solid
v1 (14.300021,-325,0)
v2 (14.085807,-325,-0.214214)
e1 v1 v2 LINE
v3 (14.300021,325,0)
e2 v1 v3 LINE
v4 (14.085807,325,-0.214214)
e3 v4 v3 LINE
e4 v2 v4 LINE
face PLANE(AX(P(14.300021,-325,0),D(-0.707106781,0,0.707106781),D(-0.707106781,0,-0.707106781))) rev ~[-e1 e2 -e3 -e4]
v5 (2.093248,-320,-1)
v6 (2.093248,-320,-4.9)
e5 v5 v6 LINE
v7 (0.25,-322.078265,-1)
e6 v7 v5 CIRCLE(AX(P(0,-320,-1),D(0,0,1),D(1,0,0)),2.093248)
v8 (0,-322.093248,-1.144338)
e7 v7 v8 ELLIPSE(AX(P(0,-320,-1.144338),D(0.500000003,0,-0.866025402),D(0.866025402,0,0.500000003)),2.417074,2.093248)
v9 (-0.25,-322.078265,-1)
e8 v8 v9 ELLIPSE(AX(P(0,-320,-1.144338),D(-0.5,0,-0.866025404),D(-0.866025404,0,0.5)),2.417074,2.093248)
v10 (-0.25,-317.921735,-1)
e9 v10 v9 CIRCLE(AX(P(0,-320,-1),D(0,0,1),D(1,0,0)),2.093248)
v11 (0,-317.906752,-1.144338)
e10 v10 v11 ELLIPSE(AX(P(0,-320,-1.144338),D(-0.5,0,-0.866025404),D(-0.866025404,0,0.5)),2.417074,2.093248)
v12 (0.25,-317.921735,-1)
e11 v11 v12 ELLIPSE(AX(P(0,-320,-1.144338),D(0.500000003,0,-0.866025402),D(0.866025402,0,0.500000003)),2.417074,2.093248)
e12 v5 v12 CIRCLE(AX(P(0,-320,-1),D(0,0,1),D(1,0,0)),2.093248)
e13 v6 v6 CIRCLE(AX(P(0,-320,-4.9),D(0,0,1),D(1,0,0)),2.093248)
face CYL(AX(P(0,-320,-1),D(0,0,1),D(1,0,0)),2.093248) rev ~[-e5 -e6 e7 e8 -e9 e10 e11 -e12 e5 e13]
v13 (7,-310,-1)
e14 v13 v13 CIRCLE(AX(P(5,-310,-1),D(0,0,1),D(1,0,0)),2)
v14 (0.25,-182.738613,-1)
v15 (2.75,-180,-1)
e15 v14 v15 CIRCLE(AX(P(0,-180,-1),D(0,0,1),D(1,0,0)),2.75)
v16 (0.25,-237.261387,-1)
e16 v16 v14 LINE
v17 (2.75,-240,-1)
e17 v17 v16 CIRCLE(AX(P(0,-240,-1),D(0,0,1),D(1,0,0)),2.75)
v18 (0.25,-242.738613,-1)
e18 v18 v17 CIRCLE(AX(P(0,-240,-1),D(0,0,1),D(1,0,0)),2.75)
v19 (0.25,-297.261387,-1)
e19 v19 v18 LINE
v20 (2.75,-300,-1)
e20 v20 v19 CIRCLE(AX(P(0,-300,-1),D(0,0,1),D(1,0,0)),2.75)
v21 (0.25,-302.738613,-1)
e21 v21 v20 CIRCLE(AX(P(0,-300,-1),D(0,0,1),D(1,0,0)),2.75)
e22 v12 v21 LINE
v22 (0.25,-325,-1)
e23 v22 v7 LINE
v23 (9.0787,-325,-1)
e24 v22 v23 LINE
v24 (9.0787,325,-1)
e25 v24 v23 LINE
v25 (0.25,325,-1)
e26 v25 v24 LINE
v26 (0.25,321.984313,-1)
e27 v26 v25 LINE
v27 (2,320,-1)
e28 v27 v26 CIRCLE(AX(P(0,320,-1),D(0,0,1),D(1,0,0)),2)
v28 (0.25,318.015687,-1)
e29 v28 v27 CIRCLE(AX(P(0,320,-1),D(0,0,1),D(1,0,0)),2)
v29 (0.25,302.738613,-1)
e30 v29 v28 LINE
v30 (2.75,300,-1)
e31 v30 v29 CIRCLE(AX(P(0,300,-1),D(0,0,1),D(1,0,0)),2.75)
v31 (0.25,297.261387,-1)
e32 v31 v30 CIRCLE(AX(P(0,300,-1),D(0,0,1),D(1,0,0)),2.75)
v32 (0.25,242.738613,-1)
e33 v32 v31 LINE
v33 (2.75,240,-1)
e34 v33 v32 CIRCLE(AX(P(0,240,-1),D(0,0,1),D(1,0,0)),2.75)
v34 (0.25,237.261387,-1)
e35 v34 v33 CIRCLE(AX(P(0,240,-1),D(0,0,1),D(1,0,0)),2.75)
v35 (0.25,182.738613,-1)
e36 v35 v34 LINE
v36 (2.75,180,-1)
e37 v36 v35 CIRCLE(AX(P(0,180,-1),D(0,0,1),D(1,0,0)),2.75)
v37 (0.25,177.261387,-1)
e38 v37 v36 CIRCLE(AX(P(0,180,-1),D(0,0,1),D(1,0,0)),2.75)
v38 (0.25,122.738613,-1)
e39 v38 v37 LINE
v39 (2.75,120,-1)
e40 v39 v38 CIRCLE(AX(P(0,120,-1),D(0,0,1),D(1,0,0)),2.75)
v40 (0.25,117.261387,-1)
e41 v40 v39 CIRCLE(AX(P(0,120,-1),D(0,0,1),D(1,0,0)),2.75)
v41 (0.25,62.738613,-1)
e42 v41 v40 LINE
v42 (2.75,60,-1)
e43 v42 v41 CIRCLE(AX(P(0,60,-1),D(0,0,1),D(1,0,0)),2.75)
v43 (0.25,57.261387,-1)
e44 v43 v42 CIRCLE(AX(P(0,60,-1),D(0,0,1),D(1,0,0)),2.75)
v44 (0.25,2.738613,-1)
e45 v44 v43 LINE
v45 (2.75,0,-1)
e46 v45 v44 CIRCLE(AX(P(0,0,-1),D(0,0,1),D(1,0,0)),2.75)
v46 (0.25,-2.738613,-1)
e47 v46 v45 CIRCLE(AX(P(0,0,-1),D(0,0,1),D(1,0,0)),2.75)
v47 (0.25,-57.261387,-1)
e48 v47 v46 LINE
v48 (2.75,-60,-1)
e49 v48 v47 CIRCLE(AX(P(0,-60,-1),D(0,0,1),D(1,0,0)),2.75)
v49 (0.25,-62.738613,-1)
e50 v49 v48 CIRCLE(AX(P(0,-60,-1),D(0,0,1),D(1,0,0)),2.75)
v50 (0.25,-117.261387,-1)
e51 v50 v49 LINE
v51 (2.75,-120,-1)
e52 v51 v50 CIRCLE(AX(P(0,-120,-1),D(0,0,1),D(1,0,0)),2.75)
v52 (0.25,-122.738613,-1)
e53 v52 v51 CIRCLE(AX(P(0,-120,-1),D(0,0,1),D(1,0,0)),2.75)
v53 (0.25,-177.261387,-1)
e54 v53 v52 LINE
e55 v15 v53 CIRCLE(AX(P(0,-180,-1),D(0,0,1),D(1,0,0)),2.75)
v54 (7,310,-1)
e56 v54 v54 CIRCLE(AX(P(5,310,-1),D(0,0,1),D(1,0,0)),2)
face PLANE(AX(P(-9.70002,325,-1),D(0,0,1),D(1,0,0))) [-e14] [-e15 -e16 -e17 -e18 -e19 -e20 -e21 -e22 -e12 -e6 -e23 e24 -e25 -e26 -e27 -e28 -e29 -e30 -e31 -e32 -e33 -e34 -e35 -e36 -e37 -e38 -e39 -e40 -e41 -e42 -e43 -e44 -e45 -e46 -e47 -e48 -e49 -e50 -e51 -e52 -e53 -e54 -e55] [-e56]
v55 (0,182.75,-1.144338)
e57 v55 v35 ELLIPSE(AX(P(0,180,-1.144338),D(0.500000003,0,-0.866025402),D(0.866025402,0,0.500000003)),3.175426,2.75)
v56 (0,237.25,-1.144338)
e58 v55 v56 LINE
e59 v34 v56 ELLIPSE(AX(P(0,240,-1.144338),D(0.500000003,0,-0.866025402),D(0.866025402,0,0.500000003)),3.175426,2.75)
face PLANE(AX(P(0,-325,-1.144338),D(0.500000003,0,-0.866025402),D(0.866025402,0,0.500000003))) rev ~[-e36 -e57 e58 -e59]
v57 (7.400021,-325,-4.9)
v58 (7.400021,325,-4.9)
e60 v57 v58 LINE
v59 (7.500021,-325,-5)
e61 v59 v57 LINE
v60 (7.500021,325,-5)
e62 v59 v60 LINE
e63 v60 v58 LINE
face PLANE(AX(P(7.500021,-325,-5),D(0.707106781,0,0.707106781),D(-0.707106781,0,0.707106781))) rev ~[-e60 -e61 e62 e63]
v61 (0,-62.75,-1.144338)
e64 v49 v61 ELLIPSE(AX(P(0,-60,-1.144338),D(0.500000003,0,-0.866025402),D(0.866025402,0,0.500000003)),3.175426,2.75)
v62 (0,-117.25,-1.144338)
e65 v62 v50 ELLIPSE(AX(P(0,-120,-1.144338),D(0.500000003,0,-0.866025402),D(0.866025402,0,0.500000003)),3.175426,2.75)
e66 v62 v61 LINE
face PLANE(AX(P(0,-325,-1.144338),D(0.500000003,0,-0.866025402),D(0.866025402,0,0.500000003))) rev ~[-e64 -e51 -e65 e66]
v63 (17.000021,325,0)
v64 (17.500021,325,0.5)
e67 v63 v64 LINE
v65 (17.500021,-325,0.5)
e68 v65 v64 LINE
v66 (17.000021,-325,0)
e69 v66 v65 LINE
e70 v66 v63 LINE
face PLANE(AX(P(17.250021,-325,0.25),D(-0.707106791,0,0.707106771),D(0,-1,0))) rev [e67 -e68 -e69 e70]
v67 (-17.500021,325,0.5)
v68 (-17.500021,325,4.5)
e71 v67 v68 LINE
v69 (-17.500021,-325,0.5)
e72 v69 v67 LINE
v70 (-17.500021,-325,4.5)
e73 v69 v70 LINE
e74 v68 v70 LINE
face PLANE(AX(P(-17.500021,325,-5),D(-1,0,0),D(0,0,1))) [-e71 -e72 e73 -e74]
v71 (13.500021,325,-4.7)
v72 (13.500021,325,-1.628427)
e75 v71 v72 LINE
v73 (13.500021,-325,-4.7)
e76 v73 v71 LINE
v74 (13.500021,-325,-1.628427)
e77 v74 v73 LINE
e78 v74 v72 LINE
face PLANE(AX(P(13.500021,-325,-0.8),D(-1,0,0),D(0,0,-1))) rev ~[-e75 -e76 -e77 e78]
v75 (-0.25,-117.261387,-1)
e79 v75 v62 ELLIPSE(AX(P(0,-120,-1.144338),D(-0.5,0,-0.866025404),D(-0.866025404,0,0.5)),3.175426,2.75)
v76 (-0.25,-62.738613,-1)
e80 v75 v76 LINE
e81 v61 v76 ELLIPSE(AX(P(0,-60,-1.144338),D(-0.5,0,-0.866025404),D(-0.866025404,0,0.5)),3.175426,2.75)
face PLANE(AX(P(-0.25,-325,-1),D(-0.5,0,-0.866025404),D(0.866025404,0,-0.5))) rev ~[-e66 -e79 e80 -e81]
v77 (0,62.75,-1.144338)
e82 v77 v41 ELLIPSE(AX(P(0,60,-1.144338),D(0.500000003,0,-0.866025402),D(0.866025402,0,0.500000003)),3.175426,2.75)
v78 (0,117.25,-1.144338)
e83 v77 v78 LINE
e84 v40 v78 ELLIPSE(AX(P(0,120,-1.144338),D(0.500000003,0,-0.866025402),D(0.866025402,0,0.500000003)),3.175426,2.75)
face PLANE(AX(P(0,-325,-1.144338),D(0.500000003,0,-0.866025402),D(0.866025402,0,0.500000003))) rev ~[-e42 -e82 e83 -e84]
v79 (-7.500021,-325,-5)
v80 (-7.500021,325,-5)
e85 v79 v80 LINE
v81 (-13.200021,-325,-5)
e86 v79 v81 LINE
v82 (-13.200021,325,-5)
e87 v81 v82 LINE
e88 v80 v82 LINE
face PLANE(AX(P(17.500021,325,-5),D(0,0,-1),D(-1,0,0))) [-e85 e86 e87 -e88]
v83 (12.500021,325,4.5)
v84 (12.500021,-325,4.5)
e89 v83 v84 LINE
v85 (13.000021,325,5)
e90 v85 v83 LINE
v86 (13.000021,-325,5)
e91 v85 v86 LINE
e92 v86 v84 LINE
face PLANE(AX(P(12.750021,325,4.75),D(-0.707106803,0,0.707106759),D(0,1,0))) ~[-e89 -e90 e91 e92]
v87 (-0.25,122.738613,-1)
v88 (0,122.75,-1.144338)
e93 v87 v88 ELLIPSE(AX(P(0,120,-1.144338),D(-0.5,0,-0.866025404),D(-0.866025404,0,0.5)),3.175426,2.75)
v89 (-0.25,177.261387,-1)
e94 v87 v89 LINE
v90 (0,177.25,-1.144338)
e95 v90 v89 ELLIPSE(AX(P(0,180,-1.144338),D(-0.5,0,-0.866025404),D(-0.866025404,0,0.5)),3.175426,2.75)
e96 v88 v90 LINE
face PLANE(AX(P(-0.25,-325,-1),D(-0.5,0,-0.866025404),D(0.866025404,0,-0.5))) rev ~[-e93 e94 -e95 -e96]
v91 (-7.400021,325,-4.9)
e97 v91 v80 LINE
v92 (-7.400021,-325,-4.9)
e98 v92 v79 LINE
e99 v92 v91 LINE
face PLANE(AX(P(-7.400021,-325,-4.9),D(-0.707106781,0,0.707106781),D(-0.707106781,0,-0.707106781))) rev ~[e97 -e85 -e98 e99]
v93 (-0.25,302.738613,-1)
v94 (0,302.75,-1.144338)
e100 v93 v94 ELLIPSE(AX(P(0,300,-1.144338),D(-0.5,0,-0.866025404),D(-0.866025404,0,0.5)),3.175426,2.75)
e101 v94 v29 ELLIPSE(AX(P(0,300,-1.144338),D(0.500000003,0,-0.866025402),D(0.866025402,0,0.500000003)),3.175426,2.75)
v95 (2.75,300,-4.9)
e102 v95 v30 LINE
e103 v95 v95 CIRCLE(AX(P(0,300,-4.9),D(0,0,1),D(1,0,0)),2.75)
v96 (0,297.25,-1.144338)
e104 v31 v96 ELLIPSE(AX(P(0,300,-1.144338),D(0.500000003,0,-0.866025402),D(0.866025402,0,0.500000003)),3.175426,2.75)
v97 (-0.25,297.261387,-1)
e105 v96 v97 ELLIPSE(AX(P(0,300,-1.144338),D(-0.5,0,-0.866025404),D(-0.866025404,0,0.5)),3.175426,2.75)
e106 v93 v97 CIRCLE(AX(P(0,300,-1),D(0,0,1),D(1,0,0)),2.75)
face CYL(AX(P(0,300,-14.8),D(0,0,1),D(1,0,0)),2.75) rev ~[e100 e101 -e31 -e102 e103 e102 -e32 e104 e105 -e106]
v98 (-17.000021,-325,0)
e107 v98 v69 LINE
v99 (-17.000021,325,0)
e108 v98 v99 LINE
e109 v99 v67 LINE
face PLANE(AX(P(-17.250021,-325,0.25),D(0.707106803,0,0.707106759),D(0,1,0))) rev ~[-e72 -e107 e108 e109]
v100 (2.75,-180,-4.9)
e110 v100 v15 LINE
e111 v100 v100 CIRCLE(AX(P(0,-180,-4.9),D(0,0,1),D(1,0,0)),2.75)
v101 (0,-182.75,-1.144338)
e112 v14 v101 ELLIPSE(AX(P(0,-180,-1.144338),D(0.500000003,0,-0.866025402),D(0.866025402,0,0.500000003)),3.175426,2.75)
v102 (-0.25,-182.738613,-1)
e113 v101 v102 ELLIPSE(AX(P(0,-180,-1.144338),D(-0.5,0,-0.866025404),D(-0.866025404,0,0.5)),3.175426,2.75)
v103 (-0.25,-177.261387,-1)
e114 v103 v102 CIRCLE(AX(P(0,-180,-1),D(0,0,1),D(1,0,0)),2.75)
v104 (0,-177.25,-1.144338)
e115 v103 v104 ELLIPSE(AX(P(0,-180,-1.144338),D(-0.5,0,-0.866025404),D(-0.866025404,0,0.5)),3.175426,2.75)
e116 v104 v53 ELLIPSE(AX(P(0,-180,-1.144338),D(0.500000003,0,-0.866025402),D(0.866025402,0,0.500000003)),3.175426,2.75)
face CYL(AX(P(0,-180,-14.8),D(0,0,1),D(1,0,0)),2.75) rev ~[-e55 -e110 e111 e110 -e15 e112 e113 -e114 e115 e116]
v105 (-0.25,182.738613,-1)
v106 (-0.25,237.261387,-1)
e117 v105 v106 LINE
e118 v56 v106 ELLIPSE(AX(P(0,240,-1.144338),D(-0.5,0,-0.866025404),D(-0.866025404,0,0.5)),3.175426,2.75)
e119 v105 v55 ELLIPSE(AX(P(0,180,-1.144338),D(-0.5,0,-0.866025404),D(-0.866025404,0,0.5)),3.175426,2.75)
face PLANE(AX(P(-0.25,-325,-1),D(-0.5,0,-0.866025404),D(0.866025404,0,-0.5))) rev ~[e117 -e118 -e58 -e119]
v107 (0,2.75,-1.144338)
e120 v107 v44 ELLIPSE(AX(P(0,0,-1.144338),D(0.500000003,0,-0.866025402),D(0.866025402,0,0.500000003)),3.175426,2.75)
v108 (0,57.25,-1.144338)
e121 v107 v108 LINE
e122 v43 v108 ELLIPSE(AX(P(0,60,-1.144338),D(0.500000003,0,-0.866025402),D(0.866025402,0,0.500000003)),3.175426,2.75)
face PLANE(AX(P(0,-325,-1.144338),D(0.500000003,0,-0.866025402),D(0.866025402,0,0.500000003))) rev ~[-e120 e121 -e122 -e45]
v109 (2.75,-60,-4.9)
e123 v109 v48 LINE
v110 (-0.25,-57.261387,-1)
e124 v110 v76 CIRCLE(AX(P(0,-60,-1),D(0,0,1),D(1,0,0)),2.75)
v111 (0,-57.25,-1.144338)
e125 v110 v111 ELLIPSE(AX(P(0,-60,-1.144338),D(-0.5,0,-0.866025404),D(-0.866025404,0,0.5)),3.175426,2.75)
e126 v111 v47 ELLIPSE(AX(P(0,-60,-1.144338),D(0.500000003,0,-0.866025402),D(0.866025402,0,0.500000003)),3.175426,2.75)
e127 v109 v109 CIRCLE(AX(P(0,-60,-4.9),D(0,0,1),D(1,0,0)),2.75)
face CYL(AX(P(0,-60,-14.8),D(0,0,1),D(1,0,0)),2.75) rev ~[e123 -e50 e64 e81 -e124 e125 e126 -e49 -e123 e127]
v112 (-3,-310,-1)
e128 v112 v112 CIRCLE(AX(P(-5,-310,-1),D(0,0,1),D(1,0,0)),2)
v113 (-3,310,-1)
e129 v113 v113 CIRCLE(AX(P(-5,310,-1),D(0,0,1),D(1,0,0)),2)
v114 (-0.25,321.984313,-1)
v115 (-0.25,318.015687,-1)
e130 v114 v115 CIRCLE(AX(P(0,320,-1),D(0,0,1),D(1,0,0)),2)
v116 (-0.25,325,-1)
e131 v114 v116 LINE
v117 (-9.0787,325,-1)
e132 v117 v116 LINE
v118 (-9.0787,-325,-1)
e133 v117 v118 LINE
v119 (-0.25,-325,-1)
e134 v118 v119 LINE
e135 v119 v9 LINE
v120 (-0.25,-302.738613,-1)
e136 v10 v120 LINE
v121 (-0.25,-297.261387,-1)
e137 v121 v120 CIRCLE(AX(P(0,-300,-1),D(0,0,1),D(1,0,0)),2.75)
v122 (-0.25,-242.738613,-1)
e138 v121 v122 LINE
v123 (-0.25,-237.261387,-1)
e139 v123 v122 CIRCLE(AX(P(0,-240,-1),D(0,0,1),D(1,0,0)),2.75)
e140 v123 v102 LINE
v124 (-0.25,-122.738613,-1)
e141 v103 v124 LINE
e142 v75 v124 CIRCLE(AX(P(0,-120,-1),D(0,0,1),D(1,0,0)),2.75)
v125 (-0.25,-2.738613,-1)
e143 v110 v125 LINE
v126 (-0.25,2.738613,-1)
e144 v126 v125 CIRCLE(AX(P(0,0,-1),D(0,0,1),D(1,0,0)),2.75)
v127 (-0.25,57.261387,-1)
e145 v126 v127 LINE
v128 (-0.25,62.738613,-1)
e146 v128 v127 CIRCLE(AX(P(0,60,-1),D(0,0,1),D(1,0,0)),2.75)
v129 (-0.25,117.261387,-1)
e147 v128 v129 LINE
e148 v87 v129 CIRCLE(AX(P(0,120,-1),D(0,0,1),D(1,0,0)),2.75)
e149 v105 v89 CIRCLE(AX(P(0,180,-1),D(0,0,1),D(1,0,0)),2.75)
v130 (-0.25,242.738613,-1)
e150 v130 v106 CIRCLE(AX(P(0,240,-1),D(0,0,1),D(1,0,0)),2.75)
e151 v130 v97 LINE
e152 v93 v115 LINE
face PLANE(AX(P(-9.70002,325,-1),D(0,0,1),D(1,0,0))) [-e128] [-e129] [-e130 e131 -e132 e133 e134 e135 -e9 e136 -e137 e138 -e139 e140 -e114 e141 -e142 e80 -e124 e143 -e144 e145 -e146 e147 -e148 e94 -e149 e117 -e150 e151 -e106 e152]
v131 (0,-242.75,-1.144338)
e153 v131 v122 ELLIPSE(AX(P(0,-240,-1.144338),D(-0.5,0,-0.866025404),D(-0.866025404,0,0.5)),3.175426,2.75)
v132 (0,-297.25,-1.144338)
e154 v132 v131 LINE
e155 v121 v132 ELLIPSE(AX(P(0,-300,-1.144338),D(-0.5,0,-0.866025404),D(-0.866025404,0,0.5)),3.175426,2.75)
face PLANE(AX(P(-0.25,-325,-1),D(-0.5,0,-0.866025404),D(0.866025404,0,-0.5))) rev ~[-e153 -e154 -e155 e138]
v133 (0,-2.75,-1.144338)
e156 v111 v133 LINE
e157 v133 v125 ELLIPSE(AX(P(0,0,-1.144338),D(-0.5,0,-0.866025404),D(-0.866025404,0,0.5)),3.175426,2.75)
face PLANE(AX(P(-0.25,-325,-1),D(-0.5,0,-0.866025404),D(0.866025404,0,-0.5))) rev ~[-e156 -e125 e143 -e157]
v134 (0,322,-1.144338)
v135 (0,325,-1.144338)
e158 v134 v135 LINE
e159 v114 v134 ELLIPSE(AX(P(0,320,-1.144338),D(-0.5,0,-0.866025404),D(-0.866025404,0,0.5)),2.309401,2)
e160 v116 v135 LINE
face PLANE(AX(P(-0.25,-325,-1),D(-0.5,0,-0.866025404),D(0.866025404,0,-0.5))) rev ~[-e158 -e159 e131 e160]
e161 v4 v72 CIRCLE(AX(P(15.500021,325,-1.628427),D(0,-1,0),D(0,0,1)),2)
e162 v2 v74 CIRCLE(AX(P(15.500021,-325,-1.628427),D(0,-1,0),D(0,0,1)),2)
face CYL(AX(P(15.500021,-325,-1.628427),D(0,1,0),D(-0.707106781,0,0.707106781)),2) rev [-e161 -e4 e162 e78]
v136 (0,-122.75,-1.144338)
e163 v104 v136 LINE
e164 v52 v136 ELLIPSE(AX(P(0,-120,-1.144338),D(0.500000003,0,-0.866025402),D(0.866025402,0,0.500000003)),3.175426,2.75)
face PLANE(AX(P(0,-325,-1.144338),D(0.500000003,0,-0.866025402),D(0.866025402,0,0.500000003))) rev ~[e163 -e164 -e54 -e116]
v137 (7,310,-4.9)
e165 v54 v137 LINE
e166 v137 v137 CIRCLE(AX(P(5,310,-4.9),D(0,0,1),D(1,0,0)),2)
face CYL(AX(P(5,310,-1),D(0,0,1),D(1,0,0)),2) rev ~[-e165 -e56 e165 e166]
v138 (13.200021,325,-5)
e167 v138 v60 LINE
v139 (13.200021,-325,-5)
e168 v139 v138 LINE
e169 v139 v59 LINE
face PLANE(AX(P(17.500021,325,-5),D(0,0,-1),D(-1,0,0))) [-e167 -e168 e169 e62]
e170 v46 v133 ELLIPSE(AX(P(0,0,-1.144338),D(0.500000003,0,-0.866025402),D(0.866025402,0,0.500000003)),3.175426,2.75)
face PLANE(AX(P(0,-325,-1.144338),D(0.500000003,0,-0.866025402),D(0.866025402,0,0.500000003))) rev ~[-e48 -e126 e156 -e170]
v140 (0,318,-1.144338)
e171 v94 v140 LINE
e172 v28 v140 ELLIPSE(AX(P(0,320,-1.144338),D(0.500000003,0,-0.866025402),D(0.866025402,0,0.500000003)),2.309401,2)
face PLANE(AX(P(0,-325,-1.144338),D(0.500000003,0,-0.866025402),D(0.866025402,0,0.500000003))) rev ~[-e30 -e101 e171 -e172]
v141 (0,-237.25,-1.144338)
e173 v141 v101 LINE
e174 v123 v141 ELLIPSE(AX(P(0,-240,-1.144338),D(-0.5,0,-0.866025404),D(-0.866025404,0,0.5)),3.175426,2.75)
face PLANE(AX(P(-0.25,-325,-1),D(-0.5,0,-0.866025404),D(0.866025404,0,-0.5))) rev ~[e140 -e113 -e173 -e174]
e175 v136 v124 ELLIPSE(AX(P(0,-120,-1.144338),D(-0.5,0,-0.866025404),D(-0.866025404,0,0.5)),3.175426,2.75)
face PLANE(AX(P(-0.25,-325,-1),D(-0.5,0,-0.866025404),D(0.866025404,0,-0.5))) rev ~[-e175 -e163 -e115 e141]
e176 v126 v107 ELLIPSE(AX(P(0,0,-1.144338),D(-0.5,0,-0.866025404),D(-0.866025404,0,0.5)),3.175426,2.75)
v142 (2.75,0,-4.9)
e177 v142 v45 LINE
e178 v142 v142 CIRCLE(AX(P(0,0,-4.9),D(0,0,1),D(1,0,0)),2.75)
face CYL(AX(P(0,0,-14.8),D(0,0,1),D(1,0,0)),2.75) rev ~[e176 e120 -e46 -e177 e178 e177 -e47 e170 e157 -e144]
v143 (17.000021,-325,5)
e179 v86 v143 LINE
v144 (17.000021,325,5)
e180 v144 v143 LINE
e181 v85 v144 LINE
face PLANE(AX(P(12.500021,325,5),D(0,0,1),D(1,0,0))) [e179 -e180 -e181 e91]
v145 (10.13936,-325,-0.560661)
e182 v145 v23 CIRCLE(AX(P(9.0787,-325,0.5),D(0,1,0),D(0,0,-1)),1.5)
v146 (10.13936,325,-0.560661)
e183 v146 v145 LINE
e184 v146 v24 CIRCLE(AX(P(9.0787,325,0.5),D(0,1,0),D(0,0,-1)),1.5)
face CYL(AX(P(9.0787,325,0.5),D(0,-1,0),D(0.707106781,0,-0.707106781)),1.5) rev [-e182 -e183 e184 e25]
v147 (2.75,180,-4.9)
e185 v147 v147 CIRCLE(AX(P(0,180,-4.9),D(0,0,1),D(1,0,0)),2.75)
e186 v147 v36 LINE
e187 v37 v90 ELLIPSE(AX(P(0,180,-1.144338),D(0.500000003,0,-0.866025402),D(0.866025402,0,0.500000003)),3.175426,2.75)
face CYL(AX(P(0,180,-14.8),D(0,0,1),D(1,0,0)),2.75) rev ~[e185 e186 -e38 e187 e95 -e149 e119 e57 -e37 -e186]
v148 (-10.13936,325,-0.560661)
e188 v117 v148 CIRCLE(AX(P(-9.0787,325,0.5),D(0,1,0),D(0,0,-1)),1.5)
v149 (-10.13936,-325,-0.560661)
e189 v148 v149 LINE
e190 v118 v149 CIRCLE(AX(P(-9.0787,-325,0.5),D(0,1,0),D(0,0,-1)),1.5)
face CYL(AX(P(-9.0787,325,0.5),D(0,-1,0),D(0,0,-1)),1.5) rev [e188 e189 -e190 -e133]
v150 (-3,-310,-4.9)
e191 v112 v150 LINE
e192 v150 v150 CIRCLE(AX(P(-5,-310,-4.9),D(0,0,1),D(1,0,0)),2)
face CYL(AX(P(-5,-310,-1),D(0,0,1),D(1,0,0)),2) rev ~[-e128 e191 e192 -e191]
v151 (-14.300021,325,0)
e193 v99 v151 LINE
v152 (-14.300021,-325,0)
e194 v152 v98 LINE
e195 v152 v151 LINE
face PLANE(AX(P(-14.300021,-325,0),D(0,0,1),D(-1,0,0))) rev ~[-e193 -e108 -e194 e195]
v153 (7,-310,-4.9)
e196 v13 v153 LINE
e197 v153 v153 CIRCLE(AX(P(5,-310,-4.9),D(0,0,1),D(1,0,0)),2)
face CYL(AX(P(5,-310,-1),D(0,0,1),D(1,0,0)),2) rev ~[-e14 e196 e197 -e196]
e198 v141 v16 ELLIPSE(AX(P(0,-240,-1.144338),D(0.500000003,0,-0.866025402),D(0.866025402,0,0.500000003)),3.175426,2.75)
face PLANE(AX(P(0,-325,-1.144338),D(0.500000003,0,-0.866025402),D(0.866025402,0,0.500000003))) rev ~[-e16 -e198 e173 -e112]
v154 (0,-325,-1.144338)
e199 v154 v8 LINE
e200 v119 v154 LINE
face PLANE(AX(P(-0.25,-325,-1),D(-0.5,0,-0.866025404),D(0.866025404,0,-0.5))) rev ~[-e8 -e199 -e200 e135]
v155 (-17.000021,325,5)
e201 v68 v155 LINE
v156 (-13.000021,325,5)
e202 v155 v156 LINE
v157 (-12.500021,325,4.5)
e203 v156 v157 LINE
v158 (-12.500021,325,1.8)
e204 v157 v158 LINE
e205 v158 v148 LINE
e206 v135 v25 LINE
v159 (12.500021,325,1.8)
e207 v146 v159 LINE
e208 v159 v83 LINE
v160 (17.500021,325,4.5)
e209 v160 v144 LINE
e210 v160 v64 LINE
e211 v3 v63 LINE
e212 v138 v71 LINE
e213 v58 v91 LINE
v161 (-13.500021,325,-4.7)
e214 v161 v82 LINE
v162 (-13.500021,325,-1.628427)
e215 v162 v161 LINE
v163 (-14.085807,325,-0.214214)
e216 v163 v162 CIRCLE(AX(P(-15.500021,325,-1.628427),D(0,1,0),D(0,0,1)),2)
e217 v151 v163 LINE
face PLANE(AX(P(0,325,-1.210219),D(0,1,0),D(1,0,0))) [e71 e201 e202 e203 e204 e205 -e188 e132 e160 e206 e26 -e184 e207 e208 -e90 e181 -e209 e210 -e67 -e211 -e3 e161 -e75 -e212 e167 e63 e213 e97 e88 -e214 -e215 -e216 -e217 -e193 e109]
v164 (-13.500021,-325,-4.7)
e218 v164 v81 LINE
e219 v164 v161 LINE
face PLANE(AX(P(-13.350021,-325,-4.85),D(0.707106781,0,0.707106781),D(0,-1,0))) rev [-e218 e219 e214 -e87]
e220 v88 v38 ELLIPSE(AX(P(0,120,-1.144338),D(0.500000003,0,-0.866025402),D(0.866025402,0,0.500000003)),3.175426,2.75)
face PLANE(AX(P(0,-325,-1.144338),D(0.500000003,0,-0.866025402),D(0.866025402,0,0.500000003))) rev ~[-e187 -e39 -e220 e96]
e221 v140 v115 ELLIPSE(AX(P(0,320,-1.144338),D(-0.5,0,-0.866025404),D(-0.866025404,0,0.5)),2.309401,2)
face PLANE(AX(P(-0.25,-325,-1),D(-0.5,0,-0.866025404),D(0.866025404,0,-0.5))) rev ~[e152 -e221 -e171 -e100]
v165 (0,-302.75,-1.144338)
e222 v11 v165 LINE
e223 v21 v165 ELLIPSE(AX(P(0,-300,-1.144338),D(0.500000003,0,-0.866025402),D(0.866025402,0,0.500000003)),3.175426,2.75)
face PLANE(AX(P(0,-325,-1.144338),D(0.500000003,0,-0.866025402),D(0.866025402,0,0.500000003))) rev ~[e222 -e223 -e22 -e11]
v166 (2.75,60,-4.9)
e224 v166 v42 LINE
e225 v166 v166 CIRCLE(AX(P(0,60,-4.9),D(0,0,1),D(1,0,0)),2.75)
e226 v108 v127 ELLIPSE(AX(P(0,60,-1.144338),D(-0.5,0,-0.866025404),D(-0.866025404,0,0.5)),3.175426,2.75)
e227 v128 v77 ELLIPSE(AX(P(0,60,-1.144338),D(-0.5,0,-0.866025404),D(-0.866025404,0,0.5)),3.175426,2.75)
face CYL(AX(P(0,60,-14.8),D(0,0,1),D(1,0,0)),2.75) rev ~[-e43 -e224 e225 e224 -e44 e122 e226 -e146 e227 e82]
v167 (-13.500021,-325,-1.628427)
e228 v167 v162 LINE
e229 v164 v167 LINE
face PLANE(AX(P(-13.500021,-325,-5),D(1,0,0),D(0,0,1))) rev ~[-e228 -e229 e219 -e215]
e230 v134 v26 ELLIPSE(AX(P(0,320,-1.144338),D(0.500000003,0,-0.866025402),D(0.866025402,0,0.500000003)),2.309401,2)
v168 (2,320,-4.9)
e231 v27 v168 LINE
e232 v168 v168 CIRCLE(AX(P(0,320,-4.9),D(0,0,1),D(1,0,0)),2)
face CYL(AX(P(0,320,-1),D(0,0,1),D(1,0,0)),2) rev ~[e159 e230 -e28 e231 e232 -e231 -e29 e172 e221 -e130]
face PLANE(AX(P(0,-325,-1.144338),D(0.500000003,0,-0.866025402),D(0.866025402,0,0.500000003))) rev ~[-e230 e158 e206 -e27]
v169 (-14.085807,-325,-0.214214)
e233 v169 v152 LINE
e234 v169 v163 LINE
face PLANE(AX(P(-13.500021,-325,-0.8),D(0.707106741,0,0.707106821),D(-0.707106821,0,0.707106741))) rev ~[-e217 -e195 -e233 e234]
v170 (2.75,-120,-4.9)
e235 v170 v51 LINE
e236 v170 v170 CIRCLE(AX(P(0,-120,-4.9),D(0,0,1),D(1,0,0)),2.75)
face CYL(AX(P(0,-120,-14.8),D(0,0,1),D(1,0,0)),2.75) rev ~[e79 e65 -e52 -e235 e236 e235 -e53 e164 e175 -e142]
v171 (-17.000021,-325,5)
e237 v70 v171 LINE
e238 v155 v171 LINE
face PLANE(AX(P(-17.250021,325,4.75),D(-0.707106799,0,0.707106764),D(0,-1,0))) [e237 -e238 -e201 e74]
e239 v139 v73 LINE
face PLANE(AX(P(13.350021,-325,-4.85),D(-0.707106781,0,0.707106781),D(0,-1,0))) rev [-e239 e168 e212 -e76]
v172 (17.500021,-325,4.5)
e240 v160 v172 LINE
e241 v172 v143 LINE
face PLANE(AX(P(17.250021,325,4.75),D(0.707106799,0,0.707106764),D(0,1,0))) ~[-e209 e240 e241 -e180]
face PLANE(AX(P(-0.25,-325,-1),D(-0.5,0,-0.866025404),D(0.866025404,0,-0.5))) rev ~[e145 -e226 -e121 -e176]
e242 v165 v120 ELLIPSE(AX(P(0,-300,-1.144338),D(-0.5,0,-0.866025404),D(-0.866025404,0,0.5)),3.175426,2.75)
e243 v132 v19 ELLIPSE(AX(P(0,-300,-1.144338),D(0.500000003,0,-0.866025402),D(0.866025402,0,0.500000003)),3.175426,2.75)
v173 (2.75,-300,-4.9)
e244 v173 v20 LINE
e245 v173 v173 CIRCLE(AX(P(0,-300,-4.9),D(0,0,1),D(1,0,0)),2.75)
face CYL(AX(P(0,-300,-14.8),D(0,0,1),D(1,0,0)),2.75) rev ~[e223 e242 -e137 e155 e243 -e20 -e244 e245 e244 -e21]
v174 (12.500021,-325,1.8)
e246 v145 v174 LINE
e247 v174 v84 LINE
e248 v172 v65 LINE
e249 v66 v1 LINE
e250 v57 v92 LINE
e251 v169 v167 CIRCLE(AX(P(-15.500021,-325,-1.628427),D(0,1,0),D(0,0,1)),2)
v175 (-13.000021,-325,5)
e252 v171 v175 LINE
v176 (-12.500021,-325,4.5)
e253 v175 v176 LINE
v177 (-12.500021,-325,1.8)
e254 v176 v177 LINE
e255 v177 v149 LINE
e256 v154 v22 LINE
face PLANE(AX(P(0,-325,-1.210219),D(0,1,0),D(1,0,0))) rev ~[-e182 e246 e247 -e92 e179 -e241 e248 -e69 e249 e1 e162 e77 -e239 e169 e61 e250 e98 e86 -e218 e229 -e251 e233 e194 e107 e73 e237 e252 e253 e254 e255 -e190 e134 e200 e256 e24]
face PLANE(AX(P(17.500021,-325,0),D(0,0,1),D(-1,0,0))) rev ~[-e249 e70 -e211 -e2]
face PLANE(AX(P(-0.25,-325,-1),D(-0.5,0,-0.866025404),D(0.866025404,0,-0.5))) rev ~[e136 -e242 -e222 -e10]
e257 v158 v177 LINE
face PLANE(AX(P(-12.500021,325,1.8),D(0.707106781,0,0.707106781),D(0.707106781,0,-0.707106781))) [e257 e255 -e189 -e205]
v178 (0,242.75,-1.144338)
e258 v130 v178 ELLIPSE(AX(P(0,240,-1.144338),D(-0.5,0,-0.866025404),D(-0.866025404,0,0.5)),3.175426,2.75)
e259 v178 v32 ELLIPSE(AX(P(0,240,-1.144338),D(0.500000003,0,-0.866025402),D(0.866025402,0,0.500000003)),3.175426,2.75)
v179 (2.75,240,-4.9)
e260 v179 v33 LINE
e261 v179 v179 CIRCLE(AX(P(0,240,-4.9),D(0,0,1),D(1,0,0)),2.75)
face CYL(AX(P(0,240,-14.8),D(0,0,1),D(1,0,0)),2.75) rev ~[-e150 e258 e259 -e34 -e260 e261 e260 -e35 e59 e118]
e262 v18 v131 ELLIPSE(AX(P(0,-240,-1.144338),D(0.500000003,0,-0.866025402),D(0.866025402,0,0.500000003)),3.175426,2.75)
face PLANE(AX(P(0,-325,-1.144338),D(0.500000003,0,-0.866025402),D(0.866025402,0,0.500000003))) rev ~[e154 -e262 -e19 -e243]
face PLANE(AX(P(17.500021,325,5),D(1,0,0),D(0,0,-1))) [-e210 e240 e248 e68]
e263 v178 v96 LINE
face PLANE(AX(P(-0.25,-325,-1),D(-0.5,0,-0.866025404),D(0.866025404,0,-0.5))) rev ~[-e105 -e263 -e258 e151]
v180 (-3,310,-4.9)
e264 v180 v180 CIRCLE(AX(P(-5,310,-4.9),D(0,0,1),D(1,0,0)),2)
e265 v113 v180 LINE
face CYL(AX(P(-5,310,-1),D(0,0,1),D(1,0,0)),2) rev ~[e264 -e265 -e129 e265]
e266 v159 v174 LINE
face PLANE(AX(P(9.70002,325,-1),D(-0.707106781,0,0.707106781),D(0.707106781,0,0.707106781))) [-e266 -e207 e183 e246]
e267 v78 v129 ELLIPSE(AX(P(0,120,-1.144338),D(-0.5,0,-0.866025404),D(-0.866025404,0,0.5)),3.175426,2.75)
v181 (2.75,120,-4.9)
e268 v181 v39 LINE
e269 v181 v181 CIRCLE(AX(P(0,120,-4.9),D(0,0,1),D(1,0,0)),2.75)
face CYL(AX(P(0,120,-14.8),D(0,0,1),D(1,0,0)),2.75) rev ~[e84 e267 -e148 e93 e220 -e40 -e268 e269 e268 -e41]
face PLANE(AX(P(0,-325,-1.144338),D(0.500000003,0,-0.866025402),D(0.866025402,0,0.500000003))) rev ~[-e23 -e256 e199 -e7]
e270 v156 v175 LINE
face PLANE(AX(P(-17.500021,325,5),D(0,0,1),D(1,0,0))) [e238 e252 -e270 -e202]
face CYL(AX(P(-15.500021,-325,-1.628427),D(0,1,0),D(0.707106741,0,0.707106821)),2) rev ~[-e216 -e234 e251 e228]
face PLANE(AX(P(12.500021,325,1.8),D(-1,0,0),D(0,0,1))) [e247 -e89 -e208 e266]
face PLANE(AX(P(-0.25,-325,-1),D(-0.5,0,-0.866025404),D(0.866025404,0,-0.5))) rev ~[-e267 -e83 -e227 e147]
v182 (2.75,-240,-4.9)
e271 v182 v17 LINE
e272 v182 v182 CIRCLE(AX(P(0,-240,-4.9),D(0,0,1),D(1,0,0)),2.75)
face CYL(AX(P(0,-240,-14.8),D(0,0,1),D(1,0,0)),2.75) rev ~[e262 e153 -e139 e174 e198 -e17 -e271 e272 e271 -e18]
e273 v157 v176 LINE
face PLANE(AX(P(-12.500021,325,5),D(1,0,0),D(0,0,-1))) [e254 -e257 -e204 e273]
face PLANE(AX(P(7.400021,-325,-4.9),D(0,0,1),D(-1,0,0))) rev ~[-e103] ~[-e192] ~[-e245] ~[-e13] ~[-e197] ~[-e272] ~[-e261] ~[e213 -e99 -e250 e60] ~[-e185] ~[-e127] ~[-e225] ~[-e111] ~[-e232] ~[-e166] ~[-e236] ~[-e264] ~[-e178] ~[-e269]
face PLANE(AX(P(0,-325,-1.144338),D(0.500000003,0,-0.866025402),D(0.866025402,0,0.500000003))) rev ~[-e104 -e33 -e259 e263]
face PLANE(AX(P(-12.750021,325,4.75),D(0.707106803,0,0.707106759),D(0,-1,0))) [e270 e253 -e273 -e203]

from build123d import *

# Parameters (mm, degrees)
BOSS_EXTRU_1_DEPTH                  = 650
ENL_V_MAT_EXTRU_1_DEPTH             = 651.254758327
ENL_V_MAT_EXTRU_2_DEPTH             = 650
ENL_V_MAT_EXTRU_3_DEPTH             = 651.254758327
ENL_V_MAT_EXTRU_4_DEPTH             = 650
DIAM_TRE_DU_PER_AGE_5_5_5_5_1_D     = 5.5
DIAM_TRE_DU_PER_AGE_5_5_5_5_1_DEPTH = 9.900000103
CHANFREIN1_SIZE2                    = 0.499999975
CHANFREIN1_SIZE                     = 0.5
CHANFREIN2_SIZE                     = 0.3
CHANFREIN3_SIZE2                    = 0.500000028
CHANFREIN3_SIZE                     = 0.499999997
CHANFREIN4_SIZE                     = 0.5
CHANFREIN4_SIZE2                    = 0.500000014
CONG_1_R                            = 1.499999963
CONG_2_R                            = 1.999999944
ESQUISSE8_R                         = 2
ESQUISSE8_R_2                       = 2.093247616
ENL_V_MAT_EXTRU_5_DEPTH             = 10


with BuildPart() as part:
    # Esquisse1 → Boss.-Extru.1 (new body)
    with BuildSketch(Plane(origin=(0, 325, 0), x_dir=(1, 0, 0), z_dir=(0, 1, 0))):
        Polygon((-9.70002034, 1.00000045), (9.70002034, 1.00000045), (12.50002072, -1.79999993), (12.50002072, -4.999999928), (17.50002072, -4.999999928), (17.50002072, 5.000000175), (-17.50002072, 5.000000175), (-17.50002072, -4.999999928), (-12.50002072, -4.999999928), (-12.50002072, -1.79999993), align=None)
    extrude(amount=-BOSS_EXTRU_1_DEPTH)

    # Esquisse2 → Enlèv. mat.-Extru.1 (cut, through all)
    with BuildSketch(Plane.XZ.offset(325)):
        Polygon((-14.30002069, -6.7e-08), (-17.50002072, -6.7e-08), (-17.50002072, -5.000000175), (-13.50002072, -5.000000175), (-13.50002072, -0.799999947), align=None)
    extrude(amount=-ENL_V_MAT_EXTRU_1_DEPTH, mode=Mode.SUBTRACT)

    # Esquisse3 → Enlèv. mat.-Extru.2 (cut)
    with BuildSketch(Plane.XZ.offset(325)):
        Polygon((0.25, -1.000000175), (-0.25, -1.000000175), (1e-09, -1.144337743), align=None)
    extrude(amount=-ENL_V_MAT_EXTRU_2_DEPTH, mode=Mode.SUBTRACT)

    # Esquisse4 → Enlèv. mat.-Extru.3 (cut, through all)
    with BuildSketch(Plane.XZ.offset(325)):
        Polygon((13.50002072, -0.799999925), (13.50002072, -5.000000175), (17.50002072, -5.000000175), (17.50002072, 7.5e-08), (14.30002072, 7.5e-08), align=None)
    extrude(amount=-ENL_V_MAT_EXTRU_3_DEPTH, mode=Mode.SUBTRACT)

    # Esquisse5 → Enlèv. mat.-Extru.4 (cut)
    with BuildSketch(Plane.XZ.offset(325)):
        Polygon((-7.50002072, -5.000000175), (7.50002072, -5.000000175), (7.40002072, -4.900000175), (-7.40002072, -4.900000175), align=None)
    extrude(amount=-ENL_V_MAT_EXTRU_4_DEPTH, mode=Mode.SUBTRACT)

    # Diamètre du perçage Ø5.5 (5.5)1
    with Locations(Plane(origin=(0, 0, -4.900000175), x_dir=(-1, 0, 0), z_dir=(0, 0, -1))):
        with Locations((0, 300), (0, 240), (0, 180), (0, 120), (0, 60), (0, 0), (0, -60), (0, -120), (0, -180), (0, -240), (0, -300)):
            Hole(DIAM_TRE_DU_PER_AGE_5_5_5_5_1_D / 2, depth=DIAM_TRE_DU_PER_AGE_5_5_5_5_1_DEPTH)

    # Chanfrein1
    chanfrein1_edges = [part.edges().sort_by_distance(p)[0] for p in [
        (-17.50002072, 0, 4.999999928),
        (17.50002072, 0, 4.999999928),
    ]]
    chamfer(chanfrein1_edges, length=CHANFREIN1_SIZE, length2=CHANFREIN1_SIZE2)

    # Chanfrein2
    chanfrein2_edges = [part.edges().sort_by_distance(p)[0] for p in [
        (-13.50002072, 0, -5.000000175),
        (13.50002072, 0, -5.000000175),
    ]]
    chamfer(chanfrein2_edges, length=CHANFREIN2_SIZE)

    # Chanfrein3
    chanfrein3_edges = [part.edges().sort_by_distance(p)[0] for p in [
        (-12.50002072, 0, 4.999999928),
        (12.50002072, 0, 4.999999928),
        (-17.50002072, 0, -6.7e-08),
    ]]
    chamfer(chanfrein3_edges, length=CHANFREIN3_SIZE, length2=CHANFREIN3_SIZE2)

    # Chanfrein4
    chanfrein4_edges = [part.edges().sort_by_distance(p)[0] for p in [
        (17.50002072, 0, 7.5e-08),
    ]]
    chanfrein4_side = [part.faces().sort_by_distance(p)[0] for p in [
        (15.90002072, 0, 7.5e-08),
    ]]
    chamfer(chanfrein4_edges, length=CHANFREIN4_SIZE, length2=CHANFREIN4_SIZE2, reference=chanfrein4_side[0])

    # Congé1
    cong_1_edges = [part.edges().sort_by_distance(p)[0] for p in [
        (9.70002034, 0, -1.00000045),
        (-9.70002034, 0, -1.00000045),
    ]]
    fillet(cong_1_edges, radius=CONG_1_R)

    # Congé2
    cong_2_edges = [part.edges().sort_by_distance(p)[0] for p in [
        (-13.50002072, 0, -0.799999947),
        (13.50002072, 0, -0.799999925),
    ]]
    fillet(cong_2_edges, radius=CONG_2_R)

    # Esquisse8 → Enlèv. mat.-Extru.5 (cut)
    with BuildSketch(Plane.XY.offset(-1.00000045)):
        with Locations((-4.999999999, -310)):
            Circle(ESQUISSE8_R)
        with Locations((5.000000001, -310)):
            Circle(ESQUISSE8_R)
        with Locations((-4.999999999, 310)):
            Circle(ESQUISSE8_R)
        with Locations((5.000000001, 310)):
            Circle(ESQUISSE8_R)
        with Locations((0, -320)):
            Circle(ESQUISSE8_R_2)
        with Locations((0, 320)):
            Circle(ESQUISSE8_R)
    extrude(amount=-ENL_V_MAT_EXTRU_5_DEPTH, mode=Mode.SUBTRACT)


solid = part.part
